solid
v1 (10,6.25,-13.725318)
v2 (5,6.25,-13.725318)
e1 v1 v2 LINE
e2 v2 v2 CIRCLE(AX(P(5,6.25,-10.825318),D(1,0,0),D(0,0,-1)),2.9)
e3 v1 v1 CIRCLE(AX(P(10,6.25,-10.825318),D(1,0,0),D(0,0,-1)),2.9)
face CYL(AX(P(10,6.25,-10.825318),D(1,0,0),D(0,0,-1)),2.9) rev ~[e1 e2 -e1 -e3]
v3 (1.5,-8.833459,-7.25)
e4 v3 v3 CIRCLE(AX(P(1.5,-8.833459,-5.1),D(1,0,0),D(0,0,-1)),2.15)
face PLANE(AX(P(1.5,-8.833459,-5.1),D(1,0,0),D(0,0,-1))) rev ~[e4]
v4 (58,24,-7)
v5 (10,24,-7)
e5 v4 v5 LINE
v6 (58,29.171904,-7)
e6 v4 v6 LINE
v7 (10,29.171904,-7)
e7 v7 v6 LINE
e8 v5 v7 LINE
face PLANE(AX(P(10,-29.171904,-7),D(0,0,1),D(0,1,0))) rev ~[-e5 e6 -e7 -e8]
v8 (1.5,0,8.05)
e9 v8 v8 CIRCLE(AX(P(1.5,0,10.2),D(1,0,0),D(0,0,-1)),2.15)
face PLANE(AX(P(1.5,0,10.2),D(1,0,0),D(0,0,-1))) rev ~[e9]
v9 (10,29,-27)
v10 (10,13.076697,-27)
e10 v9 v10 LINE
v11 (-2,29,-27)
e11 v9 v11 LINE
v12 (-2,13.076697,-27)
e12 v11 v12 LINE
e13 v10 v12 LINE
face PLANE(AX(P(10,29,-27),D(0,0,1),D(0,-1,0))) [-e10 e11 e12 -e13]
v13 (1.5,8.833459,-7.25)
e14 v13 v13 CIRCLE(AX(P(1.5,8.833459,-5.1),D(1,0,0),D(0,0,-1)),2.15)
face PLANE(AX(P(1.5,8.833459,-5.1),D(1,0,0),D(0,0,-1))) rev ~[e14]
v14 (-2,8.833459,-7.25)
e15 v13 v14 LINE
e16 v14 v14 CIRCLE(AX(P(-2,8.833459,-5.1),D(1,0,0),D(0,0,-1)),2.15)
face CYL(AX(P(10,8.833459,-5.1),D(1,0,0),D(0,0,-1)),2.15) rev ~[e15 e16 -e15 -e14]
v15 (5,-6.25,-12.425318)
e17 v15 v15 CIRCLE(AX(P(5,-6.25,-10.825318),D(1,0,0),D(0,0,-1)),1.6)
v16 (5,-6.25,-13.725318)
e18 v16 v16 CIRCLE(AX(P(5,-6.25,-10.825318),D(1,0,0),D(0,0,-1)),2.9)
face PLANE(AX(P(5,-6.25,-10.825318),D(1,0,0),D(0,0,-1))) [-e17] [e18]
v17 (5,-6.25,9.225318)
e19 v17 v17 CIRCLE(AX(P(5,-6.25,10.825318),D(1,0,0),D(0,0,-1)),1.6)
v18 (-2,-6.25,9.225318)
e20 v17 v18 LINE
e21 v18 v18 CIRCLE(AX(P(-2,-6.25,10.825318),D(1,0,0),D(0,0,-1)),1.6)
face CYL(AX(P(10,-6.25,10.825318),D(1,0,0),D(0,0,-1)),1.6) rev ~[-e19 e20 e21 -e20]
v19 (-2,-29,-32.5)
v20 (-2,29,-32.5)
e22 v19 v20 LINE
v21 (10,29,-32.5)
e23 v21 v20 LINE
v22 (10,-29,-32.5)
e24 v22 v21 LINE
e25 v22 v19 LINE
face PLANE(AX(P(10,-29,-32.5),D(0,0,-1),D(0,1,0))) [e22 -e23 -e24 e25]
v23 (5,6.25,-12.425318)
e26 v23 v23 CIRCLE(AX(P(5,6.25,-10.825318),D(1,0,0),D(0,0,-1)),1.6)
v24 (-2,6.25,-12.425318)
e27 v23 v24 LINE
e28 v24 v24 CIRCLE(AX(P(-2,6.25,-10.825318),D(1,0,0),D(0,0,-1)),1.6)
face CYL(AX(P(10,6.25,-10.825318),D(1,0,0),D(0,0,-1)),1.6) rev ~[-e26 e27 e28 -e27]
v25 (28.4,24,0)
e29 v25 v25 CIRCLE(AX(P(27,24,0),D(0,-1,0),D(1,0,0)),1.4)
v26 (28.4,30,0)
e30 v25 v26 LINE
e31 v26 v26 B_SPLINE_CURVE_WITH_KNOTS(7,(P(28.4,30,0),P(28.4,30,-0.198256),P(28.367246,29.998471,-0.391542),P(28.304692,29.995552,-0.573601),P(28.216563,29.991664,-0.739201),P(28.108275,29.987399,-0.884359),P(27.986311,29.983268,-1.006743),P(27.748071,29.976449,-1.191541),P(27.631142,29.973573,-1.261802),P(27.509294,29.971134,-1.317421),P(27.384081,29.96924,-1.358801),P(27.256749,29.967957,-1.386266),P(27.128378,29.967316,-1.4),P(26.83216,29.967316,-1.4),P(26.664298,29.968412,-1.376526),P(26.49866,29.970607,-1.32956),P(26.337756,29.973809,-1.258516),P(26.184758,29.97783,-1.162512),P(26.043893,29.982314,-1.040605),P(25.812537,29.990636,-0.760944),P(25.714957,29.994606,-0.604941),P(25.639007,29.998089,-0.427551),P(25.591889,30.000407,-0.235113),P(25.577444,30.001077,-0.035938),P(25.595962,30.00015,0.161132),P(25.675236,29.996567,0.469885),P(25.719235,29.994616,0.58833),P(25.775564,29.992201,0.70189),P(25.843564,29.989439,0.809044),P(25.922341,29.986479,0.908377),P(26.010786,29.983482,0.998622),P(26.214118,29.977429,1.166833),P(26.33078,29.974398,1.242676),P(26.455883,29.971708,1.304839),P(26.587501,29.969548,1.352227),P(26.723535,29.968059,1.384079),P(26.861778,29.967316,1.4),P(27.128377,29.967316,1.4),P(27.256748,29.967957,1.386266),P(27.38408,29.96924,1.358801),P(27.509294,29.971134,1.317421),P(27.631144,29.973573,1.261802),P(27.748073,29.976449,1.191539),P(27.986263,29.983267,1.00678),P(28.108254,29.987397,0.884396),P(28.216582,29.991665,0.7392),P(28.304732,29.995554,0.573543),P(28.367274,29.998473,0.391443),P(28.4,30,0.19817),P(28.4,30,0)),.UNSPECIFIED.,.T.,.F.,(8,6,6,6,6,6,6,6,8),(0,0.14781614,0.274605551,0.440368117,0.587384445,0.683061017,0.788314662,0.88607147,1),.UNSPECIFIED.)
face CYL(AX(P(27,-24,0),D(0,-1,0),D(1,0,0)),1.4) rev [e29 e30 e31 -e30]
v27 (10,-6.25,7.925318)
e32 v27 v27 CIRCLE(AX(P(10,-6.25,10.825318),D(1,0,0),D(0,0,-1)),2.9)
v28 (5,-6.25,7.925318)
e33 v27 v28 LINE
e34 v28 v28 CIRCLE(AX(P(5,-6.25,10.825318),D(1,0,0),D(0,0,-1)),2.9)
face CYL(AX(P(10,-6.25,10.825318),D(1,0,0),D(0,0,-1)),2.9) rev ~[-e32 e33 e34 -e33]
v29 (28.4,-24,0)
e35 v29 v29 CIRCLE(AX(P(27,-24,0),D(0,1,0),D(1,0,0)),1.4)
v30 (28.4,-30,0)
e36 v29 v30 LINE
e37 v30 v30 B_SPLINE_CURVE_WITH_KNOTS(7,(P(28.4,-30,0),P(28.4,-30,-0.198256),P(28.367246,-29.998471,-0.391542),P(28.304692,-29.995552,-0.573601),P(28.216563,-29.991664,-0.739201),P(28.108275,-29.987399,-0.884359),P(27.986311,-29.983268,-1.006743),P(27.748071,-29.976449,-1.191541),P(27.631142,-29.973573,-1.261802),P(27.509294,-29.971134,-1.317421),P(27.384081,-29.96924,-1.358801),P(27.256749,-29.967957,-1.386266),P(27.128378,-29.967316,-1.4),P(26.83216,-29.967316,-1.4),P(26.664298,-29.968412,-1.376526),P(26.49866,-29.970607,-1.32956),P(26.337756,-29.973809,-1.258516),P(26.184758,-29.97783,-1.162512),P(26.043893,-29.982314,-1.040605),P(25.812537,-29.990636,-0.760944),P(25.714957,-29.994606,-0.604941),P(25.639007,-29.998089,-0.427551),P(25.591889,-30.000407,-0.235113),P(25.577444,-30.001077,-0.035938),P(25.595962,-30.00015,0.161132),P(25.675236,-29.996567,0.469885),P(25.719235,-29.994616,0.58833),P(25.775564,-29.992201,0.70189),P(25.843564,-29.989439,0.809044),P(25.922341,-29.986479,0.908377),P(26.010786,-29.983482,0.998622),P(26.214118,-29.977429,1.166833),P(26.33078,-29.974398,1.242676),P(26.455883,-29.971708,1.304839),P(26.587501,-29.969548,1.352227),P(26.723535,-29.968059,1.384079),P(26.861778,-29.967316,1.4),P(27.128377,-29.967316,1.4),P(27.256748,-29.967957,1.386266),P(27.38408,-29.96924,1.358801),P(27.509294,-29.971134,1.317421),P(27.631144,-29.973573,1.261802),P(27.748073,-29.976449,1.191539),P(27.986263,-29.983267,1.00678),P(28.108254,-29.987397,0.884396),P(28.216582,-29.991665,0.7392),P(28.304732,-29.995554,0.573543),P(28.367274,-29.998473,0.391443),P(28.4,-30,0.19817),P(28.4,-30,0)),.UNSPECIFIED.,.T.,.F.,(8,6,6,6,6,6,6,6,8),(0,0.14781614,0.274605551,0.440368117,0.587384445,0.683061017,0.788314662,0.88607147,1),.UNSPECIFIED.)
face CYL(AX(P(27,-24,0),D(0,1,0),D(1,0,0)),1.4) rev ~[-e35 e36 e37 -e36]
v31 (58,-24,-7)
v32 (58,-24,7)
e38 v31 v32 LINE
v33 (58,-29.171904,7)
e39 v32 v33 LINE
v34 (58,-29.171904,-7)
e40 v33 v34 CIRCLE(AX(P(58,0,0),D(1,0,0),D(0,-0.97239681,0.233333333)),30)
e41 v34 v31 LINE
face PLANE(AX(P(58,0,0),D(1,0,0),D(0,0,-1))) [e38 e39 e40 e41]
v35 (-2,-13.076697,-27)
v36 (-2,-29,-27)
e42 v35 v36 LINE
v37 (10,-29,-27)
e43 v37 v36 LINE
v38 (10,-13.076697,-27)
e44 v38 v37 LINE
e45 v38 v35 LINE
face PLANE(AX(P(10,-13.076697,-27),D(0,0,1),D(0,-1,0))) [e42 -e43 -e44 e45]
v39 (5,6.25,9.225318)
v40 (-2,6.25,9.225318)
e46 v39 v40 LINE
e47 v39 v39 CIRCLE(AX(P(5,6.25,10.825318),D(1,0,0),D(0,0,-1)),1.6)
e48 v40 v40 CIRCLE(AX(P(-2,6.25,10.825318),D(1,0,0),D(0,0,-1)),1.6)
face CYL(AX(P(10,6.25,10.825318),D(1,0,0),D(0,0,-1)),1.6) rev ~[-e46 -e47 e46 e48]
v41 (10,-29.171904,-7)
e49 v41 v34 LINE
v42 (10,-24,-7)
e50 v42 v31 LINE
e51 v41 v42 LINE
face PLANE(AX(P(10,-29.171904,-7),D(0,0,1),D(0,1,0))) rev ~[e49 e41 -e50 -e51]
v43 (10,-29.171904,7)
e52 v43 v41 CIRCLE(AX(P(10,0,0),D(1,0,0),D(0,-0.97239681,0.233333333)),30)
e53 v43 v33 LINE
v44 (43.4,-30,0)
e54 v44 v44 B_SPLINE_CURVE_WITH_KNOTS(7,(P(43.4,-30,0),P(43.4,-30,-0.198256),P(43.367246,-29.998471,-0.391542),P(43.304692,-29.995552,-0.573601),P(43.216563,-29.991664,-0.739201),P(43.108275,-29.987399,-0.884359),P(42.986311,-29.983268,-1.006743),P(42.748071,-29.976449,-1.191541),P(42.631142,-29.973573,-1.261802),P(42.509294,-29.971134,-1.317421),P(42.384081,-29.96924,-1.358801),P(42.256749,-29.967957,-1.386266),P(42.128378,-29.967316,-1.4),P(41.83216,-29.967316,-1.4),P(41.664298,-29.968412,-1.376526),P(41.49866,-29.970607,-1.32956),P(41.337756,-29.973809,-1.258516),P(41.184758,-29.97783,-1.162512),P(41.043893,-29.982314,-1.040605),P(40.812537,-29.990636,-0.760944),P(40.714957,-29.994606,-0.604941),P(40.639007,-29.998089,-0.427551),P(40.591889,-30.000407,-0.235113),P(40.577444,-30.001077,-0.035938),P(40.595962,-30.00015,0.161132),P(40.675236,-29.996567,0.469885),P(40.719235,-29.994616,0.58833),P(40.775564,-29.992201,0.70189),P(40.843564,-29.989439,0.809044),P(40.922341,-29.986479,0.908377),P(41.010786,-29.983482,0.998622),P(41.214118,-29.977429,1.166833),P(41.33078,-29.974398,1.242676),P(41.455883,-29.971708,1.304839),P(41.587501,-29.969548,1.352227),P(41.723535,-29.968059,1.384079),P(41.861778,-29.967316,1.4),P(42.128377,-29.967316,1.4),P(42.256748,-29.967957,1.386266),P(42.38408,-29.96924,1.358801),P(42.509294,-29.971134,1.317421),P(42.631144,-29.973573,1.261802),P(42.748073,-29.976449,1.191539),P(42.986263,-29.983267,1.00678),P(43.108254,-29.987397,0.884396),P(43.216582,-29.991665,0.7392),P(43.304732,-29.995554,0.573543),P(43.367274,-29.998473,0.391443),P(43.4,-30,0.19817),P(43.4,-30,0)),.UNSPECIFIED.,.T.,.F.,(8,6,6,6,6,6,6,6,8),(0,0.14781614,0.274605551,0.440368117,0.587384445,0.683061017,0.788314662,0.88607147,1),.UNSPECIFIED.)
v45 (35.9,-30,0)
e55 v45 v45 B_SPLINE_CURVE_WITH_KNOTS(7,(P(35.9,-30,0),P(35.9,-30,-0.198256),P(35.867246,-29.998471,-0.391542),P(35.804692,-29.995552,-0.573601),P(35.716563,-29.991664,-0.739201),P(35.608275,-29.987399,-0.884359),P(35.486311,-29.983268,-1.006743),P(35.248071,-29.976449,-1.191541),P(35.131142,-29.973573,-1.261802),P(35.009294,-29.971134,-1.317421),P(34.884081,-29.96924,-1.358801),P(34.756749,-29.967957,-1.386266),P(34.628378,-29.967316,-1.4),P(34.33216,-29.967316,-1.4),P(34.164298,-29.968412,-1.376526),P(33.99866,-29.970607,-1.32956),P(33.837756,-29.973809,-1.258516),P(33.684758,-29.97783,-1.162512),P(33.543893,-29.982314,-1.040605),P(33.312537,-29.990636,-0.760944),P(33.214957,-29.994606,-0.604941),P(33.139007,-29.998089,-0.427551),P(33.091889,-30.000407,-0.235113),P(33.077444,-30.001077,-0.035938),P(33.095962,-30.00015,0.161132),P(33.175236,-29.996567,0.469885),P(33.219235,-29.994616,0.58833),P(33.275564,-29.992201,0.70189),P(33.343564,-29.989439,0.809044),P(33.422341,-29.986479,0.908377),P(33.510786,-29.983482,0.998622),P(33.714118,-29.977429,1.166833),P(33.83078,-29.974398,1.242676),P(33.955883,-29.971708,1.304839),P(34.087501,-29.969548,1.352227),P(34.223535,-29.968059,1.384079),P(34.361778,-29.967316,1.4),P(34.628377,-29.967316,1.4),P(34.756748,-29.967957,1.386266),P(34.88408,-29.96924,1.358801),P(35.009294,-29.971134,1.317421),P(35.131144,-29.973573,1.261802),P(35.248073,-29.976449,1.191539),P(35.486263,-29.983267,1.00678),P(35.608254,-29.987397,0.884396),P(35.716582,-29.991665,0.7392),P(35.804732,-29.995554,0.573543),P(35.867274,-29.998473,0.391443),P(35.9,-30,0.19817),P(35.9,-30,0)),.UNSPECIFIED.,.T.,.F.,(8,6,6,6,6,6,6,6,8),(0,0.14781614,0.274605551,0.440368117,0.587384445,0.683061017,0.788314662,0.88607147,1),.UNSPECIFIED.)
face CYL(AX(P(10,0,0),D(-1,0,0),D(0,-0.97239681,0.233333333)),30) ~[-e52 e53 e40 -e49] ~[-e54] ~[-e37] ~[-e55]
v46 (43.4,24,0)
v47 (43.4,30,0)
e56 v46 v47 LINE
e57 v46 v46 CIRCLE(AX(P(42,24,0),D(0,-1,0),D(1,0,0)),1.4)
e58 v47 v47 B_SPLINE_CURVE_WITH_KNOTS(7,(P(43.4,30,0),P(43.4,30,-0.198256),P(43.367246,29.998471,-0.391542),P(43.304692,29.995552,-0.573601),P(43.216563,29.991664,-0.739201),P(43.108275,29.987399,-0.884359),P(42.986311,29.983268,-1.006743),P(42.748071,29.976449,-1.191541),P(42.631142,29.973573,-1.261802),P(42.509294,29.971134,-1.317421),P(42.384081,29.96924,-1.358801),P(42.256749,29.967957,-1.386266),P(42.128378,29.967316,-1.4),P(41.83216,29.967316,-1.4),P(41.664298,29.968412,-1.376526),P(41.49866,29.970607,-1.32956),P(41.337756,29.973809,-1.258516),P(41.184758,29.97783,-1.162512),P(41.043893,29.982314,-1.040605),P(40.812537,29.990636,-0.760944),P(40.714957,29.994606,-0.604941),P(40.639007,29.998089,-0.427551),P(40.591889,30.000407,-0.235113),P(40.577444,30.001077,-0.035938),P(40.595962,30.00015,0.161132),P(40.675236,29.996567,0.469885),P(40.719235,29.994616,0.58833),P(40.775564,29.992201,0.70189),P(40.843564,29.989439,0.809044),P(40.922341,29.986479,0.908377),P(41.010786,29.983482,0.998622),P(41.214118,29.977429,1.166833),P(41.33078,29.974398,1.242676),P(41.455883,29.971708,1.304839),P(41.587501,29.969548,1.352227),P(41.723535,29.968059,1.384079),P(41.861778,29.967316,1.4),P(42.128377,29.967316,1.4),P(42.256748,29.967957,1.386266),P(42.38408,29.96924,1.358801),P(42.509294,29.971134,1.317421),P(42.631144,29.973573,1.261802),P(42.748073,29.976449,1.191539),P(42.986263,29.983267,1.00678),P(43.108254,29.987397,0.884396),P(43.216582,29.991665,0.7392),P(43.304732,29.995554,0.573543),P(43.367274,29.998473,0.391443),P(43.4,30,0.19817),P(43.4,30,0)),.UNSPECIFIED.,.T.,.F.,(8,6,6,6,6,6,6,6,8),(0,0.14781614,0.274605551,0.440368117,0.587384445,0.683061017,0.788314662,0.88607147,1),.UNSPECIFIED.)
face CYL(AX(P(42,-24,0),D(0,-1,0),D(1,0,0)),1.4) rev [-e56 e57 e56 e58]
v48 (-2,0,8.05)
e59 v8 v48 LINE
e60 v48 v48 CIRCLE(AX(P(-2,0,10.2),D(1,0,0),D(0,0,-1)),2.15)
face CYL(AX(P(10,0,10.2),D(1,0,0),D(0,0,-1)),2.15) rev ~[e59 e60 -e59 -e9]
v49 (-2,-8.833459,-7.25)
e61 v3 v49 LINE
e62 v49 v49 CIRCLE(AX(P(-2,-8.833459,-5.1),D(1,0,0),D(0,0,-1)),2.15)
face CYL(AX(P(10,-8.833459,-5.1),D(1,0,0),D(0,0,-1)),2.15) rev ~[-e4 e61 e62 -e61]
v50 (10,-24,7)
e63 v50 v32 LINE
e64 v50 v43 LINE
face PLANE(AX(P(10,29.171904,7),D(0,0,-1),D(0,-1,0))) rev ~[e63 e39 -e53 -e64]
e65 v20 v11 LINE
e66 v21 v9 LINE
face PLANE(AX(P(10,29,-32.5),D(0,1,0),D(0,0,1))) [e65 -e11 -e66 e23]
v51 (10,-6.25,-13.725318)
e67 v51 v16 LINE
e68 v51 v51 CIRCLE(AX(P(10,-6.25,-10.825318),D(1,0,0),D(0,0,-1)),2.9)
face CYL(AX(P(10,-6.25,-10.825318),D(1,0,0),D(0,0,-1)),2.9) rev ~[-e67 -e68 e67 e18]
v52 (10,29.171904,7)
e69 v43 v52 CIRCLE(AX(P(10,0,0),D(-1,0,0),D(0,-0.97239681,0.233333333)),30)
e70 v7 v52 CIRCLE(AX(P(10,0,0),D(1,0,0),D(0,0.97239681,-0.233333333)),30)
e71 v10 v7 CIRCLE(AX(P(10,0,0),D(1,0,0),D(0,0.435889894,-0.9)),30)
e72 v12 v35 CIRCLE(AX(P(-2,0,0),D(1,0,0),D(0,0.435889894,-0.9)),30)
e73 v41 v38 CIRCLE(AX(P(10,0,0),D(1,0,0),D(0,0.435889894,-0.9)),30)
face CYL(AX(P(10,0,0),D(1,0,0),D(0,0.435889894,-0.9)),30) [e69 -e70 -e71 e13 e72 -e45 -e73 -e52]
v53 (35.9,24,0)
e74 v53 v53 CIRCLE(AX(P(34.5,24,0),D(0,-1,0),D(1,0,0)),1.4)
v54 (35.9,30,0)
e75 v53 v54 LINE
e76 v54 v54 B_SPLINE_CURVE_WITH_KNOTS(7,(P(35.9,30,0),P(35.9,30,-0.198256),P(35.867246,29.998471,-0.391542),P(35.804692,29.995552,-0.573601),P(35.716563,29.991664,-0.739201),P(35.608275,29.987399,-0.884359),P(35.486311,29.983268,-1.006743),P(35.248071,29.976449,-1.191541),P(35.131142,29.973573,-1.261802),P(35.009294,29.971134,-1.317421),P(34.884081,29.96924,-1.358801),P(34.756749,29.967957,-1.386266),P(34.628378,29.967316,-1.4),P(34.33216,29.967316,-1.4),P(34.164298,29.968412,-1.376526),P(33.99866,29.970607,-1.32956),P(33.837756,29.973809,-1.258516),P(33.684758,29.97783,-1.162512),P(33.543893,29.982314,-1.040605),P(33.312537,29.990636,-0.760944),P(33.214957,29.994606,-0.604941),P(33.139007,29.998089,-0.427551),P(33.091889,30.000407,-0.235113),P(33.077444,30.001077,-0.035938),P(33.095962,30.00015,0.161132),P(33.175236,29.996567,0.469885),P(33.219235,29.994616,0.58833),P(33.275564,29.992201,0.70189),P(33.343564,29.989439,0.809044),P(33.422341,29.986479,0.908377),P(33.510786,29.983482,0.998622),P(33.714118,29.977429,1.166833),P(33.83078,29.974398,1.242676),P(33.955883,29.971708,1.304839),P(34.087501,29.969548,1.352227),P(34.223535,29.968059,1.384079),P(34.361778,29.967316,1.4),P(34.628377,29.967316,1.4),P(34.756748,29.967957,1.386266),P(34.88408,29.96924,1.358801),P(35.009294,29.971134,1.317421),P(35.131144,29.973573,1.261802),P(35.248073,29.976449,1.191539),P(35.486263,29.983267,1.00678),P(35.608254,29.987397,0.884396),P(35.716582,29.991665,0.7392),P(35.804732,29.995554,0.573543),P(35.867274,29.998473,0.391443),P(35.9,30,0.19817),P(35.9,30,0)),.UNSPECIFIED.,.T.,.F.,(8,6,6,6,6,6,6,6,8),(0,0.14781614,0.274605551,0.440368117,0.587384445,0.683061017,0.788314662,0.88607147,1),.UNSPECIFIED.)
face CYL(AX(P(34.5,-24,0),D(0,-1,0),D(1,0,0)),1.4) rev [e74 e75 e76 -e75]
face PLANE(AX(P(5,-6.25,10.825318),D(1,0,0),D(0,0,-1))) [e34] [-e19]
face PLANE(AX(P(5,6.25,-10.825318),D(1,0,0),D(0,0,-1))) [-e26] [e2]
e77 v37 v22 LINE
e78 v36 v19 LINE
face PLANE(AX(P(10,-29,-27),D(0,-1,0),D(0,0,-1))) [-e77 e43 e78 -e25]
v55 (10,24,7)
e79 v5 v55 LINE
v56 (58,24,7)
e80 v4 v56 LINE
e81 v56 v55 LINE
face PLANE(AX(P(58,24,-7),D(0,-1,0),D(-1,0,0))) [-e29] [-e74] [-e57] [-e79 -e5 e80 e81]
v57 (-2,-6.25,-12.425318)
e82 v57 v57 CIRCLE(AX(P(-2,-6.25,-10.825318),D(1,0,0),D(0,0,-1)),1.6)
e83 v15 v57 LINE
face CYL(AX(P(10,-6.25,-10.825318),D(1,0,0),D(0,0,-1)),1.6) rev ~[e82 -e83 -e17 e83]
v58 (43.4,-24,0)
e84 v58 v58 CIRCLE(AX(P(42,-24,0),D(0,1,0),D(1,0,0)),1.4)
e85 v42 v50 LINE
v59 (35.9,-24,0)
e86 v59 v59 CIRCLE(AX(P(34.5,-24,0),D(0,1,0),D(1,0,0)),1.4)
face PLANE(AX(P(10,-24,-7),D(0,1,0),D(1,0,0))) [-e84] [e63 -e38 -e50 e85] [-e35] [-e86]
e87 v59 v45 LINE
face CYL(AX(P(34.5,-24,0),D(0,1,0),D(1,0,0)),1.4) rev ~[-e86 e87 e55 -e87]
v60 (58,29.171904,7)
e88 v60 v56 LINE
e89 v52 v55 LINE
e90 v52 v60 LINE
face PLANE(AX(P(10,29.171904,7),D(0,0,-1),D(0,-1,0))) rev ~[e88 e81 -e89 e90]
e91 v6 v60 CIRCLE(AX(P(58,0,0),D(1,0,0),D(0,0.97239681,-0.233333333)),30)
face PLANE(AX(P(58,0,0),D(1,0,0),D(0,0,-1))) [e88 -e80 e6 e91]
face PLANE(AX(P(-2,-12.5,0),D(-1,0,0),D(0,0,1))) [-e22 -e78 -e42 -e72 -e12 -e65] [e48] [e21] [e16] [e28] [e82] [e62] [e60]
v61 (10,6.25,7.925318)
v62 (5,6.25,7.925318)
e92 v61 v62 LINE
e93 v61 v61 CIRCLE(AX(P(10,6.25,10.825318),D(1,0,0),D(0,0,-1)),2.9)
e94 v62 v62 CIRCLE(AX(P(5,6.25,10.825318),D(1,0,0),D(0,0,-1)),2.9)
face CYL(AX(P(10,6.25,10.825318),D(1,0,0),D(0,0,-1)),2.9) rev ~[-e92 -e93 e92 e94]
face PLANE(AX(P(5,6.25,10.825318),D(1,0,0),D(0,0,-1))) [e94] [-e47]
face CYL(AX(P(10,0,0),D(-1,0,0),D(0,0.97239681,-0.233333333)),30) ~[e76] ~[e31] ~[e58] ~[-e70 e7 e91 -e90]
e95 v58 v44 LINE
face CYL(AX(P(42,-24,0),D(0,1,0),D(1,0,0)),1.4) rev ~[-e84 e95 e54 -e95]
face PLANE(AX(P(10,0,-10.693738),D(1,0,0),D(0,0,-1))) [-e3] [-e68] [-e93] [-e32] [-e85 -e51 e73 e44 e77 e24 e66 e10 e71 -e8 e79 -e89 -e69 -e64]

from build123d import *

# Parameters (mm, degrees)
SKETCH_23_R                      = 1.6
SKETCH_23_R_2                    = 2.15
EXTRUDE_9_DEPTH                  = 12
SKETCH_25_R                      = 3.199536645
SKETCH_25_R_2                    = 3.253572192
SKETCH_25_R_3                    = 3.504037636
EXTRUDE_11_DEPTH                 = 8.5
SKETCH_27_R                      = 2.9
CUT_EXTRUDE_14_DEPTH             = 15
CUT_EXTRUDE_14_DEPTH_BACK        = 5
EXTRUDE_14_DEPTH                 = 48
EXTRUDE_14_DEPTH_BACK            = 8.5
EXTRUDE_15_REACH                 = 62
SKETCH_30_R                      = 2.823102459
SKETCH_30_R_2                    = 3.099807243
CUT_EXTRUDE_15_DEPTH             = 38
CUT_EXTRUDE_16_REACH             = 8
SKETCH_33_R                      = 1.4
CUT_EXTRUDE_16_DIRECTION_2_REACH = 56


with BuildPart() as part:
    # 草图23 → 凸台-拉伸9 (new body)
    with BuildSketch(Plane(origin=(10, 0, 0), x_dir=(0, 0, -1), z_dir=(1, 0, 0))):
        with BuildLine():
            Line((32.5, 0), (32.5, 29))
            Line((32.5, 29), (27, 29))
            Line((27, 29), (27, 13.076696831))
            ThreePointArc((27, 13.076696831), (-30, 0), (27, -13.076696831))
            Line((27, -13.076696831), (27, -29))
            Line((27, -29), (32.5, -29))
            Line((32.5, -29), (32.5, 0))
        make_face()
        with Locations((0, 12.5)):
            Circle(SKETCH_23_R, mode=Mode.SUBTRACT)
        with Locations((-10.825317547, 6.25)):
            Circle(SKETCH_23_R, mode=Mode.SUBTRACT)
        with Locations((10.825317547, 6.25)):
            Circle(SKETCH_23_R, mode=Mode.SUBTRACT)
        with Locations((10.825317547, -6.25)):
            Circle(SKETCH_23_R, mode=Mode.SUBTRACT)
        with Locations((0, -12.5)):
            Circle(SKETCH_23_R, mode=Mode.SUBTRACT)
        with Locations((-10.825317547, -6.25)):
            Circle(SKETCH_23_R, mode=Mode.SUBTRACT)
        with Locations((5.1, 8.833459119)):
            Circle(SKETCH_23_R_2, mode=Mode.SUBTRACT)
        with Locations((-10.2, 0)):
            Circle(SKETCH_23_R_2, mode=Mode.SUBTRACT)
        with Locations((5.1, -8.833459119)):
            Circle(SKETCH_23_R_2, mode=Mode.SUBTRACT)
    extrude(amount=-EXTRUDE_9_DEPTH)

    # 草图25 → 凸台-拉伸11 (add)
    with BuildSketch(Plane(origin=(10, 0, 0), x_dir=(0, 0, -1), z_dir=(1, 0, 0))):
        with Locations((5.1, 8.833459119)):
            Circle(SKETCH_25_R)
        with Locations((-10.2, 0)):
            Circle(SKETCH_25_R_2)
        with Locations((5.1, -8.833459119)):
            Circle(SKETCH_25_R_3)
    extrude(amount=-EXTRUDE_11_DEPTH)

    # 草图27 → 切除-拉伸14 (cut, two sides)
    with BuildSketch(Plane(origin=(10, 0, 0), x_dir=(0, 0, -1), z_dir=(1, 0, 0))) as cut_extrude_14_sk:
        with Locations((0, 12.5)):
            Circle(SKETCH_27_R)
        with Locations((-86.65969357, 123.729949726)):
            Circle(SKETCH_27_R)
        with Locations((-33.661578231, 254.394420705)):
            Circle(SKETCH_27_R)
        with Locations((105.996230679, 273.828941958)):
            Circle(SKETCH_27_R)
        with Locations((192.655924249, 162.598992232)):
            Circle(SKETCH_27_R)
        with Locations((139.657808909, 31.934521253)):
            Circle(SKETCH_27_R)
        with Locations((10.825317547, 6.25)):
            Circle(SKETCH_27_R)
        with Locations((10.825317547, -6.25)):
            Circle(SKETCH_27_R)
        with Locations((0, -12.5)):
            Circle(SKETCH_27_R)
        with Locations((-10.825317547, -6.25)):
            Circle(SKETCH_27_R)
        with Locations((-10.825317547, 6.25)):
            Circle(SKETCH_27_R)
    extrude(amount=CUT_EXTRUDE_14_DEPTH, mode=Mode.SUBTRACT)
    extrude(cut_extrude_14_sk.sketch, amount=-CUT_EXTRUDE_14_DEPTH_BACK, mode=Mode.SUBTRACT)

    # 草图29 → 凸台-拉伸14 (add, two sides)
    with BuildSketch(Plane(origin=(10, 0, 0), x_dir=(0, 0, -1), z_dir=(1, 0, 0))) as extrude_14_sk:
        with BuildLine():
            Line((-7, 29.171904292), (-7, -29.171904292))
            ThreePointArc((-7, -29.171904292), (0, -30), (7, -29.171904292))
            Line((7, -29.171904292), (7, 29.171904292))
            ThreePointArc((7, 29.171904292), (0, 30), (-7, 29.171904292))
        make_face()
    extrude(amount=EXTRUDE_14_DEPTH)
    extrude(extrude_14_sk.sketch, amount=-EXTRUDE_14_DEPTH_BACK)

    # 草图30 → 凸台-拉伸15 (add, up to next)
    with BuildSketch(Plane.ZY.offset(2), mode=Mode.PRIVATE) as extrude_15_sk1:
        with Locations((0, 12.5)):
            Circle(SKETCH_30_R)
    extrude_15_tool1 = extrude(extrude_15_sk1.sketch, amount=-EXTRUDE_15_REACH, mode=Mode.PRIVATE) - part.part
    add(extrude_15_tool1.solids().sort_by_distance((-2, 12.5, 0))[0])
    # 草图30 → 凸台-拉伸15 (add, up to next)
    with BuildSketch(Plane.ZY.offset(2), mode=Mode.PRIVATE) as extrude_15_sk2:
        with Locations((0, -12.5)):
            Circle(SKETCH_30_R_2)
    extrude_15_tool2 = extrude(extrude_15_sk2.sketch, amount=-EXTRUDE_15_REACH, mode=Mode.PRIVATE) - part.part
    add(extrude_15_tool2.solids().sort_by_distance((-2, -12.5, 0))[0])

    # 草图32 → 切除-拉伸15 (cut, through all)
    with BuildSketch(Plane(origin=(0, 0, -7), x_dir=(-1, 0, 0), z_dir=(0, 0, -1))):
        Polygon((-58, 0), (-58, 24), (-10, 24), (-10, -24), (-58, -24), align=None)
    extrude(amount=-CUT_EXTRUDE_15_DEPTH, mode=Mode.SUBTRACT)

    # 草图33 → 切除-拉伸16 (cut, up to next)
    with BuildSketch(Plane(origin=(0, -24, 0), x_dir=(1, 0, 0), z_dir=(0, 1, 0)), mode=Mode.PRIVATE) as cut_extrude_16_sk1:
        with Locations((34.5, 0)):
            Circle(SKETCH_33_R)
    cut_extrude_16_tool1 = extrude(cut_extrude_16_sk1.sketch, amount=-CUT_EXTRUDE_16_REACH, mode=Mode.PRIVATE) & part.part
    add(cut_extrude_16_tool1.solids().sort_by_distance((34.5, -24, 0))[0], mode=Mode.SUBTRACT)
    # 草图33 → 切除-拉伸16 (cut, up to next)
    with BuildSketch(Plane(origin=(0, -24, 0), x_dir=(1, 0, 0), z_dir=(0, 1, 0)), mode=Mode.PRIVATE) as cut_extrude_16_sk2:
        with Locations((42, 0)):
            Circle(SKETCH_33_R)
    cut_extrude_16_tool2 = extrude(cut_extrude_16_sk2.sketch, amount=-CUT_EXTRUDE_16_REACH, mode=Mode.PRIVATE) & part.part
    add(cut_extrude_16_tool2.solids().sort_by_distance((42, -24, 0))[0], mode=Mode.SUBTRACT)
    # 草图33 → 切除-拉伸16 (cut, up to next)
    with BuildSketch(Plane(origin=(0, -24, 0), x_dir=(1, 0, 0), z_dir=(0, 1, 0)), mode=Mode.PRIVATE) as cut_extrude_16_sk3:
        with Locations((27, 0)):
            Circle(SKETCH_33_R)
    cut_extrude_16_tool3 = extrude(cut_extrude_16_sk3.sketch, amount=-CUT_EXTRUDE_16_REACH, mode=Mode.PRIVATE) & part.part
    add(cut_extrude_16_tool3.solids().sort_by_distance((27, -24, 0))[0], mode=Mode.SUBTRACT)

    # 草图33 → 切除-拉伸16 direction 2 (cut, up to next)
    with BuildSketch(Plane(origin=(0, -24, 0), x_dir=(1, 0, 0), z_dir=(0, 1, 0)), mode=Mode.PRIVATE) as cut_extrude_16_direction_2_sk1:
        with Locations((34.5, 0)):
            Circle(SKETCH_33_R)
    cut_extrude_16_direction_2_tool1 = extrude(cut_extrude_16_direction_2_sk1.sketch, amount=CUT_EXTRUDE_16_DIRECTION_2_REACH, mode=Mode.PRIVATE) & part.part
    add(cut_extrude_16_direction_2_tool1.solids().sort_by_distance((34.5, -24, 0))[0], mode=Mode.SUBTRACT)
    # 草图33 → 切除-拉伸16 direction 2 (cut, up to next)
    with BuildSketch(Plane(origin=(0, -24, 0), x_dir=(1, 0, 0), z_dir=(0, 1, 0)), mode=Mode.PRIVATE) as cut_extrude_16_direction_2_sk2:
        with Locations((42, 0)):
            Circle(SKETCH_33_R)
    cut_extrude_16_direction_2_tool2 = extrude(cut_extrude_16_direction_2_sk2.sketch, amount=CUT_EXTRUDE_16_DIRECTION_2_REACH, mode=Mode.PRIVATE) & part.part
    add(cut_extrude_16_direction_2_tool2.solids().sort_by_distance((42, -24, 0))[0], mode=Mode.SUBTRACT)
    # 草图33 → 切除-拉伸16 direction 2 (cut, up to next)
    with BuildSketch(Plane(origin=(0, -24, 0), x_dir=(1, 0, 0), z_dir=(0, 1, 0)), mode=Mode.PRIVATE) as cut_extrude_16_direction_2_sk3:
        with Locations((27, 0)):
            Circle(SKETCH_33_R)
    cut_extrude_16_direction_2_tool3 = extrude(cut_extrude_16_direction_2_sk3.sketch, amount=CUT_EXTRUDE_16_DIRECTION_2_REACH, mode=Mode.PRIVATE) & part.part
    add(cut_extrude_16_direction_2_tool3.solids().sort_by_distance((27, -24, 0))[0], mode=Mode.SUBTRACT)


solid = part.part
